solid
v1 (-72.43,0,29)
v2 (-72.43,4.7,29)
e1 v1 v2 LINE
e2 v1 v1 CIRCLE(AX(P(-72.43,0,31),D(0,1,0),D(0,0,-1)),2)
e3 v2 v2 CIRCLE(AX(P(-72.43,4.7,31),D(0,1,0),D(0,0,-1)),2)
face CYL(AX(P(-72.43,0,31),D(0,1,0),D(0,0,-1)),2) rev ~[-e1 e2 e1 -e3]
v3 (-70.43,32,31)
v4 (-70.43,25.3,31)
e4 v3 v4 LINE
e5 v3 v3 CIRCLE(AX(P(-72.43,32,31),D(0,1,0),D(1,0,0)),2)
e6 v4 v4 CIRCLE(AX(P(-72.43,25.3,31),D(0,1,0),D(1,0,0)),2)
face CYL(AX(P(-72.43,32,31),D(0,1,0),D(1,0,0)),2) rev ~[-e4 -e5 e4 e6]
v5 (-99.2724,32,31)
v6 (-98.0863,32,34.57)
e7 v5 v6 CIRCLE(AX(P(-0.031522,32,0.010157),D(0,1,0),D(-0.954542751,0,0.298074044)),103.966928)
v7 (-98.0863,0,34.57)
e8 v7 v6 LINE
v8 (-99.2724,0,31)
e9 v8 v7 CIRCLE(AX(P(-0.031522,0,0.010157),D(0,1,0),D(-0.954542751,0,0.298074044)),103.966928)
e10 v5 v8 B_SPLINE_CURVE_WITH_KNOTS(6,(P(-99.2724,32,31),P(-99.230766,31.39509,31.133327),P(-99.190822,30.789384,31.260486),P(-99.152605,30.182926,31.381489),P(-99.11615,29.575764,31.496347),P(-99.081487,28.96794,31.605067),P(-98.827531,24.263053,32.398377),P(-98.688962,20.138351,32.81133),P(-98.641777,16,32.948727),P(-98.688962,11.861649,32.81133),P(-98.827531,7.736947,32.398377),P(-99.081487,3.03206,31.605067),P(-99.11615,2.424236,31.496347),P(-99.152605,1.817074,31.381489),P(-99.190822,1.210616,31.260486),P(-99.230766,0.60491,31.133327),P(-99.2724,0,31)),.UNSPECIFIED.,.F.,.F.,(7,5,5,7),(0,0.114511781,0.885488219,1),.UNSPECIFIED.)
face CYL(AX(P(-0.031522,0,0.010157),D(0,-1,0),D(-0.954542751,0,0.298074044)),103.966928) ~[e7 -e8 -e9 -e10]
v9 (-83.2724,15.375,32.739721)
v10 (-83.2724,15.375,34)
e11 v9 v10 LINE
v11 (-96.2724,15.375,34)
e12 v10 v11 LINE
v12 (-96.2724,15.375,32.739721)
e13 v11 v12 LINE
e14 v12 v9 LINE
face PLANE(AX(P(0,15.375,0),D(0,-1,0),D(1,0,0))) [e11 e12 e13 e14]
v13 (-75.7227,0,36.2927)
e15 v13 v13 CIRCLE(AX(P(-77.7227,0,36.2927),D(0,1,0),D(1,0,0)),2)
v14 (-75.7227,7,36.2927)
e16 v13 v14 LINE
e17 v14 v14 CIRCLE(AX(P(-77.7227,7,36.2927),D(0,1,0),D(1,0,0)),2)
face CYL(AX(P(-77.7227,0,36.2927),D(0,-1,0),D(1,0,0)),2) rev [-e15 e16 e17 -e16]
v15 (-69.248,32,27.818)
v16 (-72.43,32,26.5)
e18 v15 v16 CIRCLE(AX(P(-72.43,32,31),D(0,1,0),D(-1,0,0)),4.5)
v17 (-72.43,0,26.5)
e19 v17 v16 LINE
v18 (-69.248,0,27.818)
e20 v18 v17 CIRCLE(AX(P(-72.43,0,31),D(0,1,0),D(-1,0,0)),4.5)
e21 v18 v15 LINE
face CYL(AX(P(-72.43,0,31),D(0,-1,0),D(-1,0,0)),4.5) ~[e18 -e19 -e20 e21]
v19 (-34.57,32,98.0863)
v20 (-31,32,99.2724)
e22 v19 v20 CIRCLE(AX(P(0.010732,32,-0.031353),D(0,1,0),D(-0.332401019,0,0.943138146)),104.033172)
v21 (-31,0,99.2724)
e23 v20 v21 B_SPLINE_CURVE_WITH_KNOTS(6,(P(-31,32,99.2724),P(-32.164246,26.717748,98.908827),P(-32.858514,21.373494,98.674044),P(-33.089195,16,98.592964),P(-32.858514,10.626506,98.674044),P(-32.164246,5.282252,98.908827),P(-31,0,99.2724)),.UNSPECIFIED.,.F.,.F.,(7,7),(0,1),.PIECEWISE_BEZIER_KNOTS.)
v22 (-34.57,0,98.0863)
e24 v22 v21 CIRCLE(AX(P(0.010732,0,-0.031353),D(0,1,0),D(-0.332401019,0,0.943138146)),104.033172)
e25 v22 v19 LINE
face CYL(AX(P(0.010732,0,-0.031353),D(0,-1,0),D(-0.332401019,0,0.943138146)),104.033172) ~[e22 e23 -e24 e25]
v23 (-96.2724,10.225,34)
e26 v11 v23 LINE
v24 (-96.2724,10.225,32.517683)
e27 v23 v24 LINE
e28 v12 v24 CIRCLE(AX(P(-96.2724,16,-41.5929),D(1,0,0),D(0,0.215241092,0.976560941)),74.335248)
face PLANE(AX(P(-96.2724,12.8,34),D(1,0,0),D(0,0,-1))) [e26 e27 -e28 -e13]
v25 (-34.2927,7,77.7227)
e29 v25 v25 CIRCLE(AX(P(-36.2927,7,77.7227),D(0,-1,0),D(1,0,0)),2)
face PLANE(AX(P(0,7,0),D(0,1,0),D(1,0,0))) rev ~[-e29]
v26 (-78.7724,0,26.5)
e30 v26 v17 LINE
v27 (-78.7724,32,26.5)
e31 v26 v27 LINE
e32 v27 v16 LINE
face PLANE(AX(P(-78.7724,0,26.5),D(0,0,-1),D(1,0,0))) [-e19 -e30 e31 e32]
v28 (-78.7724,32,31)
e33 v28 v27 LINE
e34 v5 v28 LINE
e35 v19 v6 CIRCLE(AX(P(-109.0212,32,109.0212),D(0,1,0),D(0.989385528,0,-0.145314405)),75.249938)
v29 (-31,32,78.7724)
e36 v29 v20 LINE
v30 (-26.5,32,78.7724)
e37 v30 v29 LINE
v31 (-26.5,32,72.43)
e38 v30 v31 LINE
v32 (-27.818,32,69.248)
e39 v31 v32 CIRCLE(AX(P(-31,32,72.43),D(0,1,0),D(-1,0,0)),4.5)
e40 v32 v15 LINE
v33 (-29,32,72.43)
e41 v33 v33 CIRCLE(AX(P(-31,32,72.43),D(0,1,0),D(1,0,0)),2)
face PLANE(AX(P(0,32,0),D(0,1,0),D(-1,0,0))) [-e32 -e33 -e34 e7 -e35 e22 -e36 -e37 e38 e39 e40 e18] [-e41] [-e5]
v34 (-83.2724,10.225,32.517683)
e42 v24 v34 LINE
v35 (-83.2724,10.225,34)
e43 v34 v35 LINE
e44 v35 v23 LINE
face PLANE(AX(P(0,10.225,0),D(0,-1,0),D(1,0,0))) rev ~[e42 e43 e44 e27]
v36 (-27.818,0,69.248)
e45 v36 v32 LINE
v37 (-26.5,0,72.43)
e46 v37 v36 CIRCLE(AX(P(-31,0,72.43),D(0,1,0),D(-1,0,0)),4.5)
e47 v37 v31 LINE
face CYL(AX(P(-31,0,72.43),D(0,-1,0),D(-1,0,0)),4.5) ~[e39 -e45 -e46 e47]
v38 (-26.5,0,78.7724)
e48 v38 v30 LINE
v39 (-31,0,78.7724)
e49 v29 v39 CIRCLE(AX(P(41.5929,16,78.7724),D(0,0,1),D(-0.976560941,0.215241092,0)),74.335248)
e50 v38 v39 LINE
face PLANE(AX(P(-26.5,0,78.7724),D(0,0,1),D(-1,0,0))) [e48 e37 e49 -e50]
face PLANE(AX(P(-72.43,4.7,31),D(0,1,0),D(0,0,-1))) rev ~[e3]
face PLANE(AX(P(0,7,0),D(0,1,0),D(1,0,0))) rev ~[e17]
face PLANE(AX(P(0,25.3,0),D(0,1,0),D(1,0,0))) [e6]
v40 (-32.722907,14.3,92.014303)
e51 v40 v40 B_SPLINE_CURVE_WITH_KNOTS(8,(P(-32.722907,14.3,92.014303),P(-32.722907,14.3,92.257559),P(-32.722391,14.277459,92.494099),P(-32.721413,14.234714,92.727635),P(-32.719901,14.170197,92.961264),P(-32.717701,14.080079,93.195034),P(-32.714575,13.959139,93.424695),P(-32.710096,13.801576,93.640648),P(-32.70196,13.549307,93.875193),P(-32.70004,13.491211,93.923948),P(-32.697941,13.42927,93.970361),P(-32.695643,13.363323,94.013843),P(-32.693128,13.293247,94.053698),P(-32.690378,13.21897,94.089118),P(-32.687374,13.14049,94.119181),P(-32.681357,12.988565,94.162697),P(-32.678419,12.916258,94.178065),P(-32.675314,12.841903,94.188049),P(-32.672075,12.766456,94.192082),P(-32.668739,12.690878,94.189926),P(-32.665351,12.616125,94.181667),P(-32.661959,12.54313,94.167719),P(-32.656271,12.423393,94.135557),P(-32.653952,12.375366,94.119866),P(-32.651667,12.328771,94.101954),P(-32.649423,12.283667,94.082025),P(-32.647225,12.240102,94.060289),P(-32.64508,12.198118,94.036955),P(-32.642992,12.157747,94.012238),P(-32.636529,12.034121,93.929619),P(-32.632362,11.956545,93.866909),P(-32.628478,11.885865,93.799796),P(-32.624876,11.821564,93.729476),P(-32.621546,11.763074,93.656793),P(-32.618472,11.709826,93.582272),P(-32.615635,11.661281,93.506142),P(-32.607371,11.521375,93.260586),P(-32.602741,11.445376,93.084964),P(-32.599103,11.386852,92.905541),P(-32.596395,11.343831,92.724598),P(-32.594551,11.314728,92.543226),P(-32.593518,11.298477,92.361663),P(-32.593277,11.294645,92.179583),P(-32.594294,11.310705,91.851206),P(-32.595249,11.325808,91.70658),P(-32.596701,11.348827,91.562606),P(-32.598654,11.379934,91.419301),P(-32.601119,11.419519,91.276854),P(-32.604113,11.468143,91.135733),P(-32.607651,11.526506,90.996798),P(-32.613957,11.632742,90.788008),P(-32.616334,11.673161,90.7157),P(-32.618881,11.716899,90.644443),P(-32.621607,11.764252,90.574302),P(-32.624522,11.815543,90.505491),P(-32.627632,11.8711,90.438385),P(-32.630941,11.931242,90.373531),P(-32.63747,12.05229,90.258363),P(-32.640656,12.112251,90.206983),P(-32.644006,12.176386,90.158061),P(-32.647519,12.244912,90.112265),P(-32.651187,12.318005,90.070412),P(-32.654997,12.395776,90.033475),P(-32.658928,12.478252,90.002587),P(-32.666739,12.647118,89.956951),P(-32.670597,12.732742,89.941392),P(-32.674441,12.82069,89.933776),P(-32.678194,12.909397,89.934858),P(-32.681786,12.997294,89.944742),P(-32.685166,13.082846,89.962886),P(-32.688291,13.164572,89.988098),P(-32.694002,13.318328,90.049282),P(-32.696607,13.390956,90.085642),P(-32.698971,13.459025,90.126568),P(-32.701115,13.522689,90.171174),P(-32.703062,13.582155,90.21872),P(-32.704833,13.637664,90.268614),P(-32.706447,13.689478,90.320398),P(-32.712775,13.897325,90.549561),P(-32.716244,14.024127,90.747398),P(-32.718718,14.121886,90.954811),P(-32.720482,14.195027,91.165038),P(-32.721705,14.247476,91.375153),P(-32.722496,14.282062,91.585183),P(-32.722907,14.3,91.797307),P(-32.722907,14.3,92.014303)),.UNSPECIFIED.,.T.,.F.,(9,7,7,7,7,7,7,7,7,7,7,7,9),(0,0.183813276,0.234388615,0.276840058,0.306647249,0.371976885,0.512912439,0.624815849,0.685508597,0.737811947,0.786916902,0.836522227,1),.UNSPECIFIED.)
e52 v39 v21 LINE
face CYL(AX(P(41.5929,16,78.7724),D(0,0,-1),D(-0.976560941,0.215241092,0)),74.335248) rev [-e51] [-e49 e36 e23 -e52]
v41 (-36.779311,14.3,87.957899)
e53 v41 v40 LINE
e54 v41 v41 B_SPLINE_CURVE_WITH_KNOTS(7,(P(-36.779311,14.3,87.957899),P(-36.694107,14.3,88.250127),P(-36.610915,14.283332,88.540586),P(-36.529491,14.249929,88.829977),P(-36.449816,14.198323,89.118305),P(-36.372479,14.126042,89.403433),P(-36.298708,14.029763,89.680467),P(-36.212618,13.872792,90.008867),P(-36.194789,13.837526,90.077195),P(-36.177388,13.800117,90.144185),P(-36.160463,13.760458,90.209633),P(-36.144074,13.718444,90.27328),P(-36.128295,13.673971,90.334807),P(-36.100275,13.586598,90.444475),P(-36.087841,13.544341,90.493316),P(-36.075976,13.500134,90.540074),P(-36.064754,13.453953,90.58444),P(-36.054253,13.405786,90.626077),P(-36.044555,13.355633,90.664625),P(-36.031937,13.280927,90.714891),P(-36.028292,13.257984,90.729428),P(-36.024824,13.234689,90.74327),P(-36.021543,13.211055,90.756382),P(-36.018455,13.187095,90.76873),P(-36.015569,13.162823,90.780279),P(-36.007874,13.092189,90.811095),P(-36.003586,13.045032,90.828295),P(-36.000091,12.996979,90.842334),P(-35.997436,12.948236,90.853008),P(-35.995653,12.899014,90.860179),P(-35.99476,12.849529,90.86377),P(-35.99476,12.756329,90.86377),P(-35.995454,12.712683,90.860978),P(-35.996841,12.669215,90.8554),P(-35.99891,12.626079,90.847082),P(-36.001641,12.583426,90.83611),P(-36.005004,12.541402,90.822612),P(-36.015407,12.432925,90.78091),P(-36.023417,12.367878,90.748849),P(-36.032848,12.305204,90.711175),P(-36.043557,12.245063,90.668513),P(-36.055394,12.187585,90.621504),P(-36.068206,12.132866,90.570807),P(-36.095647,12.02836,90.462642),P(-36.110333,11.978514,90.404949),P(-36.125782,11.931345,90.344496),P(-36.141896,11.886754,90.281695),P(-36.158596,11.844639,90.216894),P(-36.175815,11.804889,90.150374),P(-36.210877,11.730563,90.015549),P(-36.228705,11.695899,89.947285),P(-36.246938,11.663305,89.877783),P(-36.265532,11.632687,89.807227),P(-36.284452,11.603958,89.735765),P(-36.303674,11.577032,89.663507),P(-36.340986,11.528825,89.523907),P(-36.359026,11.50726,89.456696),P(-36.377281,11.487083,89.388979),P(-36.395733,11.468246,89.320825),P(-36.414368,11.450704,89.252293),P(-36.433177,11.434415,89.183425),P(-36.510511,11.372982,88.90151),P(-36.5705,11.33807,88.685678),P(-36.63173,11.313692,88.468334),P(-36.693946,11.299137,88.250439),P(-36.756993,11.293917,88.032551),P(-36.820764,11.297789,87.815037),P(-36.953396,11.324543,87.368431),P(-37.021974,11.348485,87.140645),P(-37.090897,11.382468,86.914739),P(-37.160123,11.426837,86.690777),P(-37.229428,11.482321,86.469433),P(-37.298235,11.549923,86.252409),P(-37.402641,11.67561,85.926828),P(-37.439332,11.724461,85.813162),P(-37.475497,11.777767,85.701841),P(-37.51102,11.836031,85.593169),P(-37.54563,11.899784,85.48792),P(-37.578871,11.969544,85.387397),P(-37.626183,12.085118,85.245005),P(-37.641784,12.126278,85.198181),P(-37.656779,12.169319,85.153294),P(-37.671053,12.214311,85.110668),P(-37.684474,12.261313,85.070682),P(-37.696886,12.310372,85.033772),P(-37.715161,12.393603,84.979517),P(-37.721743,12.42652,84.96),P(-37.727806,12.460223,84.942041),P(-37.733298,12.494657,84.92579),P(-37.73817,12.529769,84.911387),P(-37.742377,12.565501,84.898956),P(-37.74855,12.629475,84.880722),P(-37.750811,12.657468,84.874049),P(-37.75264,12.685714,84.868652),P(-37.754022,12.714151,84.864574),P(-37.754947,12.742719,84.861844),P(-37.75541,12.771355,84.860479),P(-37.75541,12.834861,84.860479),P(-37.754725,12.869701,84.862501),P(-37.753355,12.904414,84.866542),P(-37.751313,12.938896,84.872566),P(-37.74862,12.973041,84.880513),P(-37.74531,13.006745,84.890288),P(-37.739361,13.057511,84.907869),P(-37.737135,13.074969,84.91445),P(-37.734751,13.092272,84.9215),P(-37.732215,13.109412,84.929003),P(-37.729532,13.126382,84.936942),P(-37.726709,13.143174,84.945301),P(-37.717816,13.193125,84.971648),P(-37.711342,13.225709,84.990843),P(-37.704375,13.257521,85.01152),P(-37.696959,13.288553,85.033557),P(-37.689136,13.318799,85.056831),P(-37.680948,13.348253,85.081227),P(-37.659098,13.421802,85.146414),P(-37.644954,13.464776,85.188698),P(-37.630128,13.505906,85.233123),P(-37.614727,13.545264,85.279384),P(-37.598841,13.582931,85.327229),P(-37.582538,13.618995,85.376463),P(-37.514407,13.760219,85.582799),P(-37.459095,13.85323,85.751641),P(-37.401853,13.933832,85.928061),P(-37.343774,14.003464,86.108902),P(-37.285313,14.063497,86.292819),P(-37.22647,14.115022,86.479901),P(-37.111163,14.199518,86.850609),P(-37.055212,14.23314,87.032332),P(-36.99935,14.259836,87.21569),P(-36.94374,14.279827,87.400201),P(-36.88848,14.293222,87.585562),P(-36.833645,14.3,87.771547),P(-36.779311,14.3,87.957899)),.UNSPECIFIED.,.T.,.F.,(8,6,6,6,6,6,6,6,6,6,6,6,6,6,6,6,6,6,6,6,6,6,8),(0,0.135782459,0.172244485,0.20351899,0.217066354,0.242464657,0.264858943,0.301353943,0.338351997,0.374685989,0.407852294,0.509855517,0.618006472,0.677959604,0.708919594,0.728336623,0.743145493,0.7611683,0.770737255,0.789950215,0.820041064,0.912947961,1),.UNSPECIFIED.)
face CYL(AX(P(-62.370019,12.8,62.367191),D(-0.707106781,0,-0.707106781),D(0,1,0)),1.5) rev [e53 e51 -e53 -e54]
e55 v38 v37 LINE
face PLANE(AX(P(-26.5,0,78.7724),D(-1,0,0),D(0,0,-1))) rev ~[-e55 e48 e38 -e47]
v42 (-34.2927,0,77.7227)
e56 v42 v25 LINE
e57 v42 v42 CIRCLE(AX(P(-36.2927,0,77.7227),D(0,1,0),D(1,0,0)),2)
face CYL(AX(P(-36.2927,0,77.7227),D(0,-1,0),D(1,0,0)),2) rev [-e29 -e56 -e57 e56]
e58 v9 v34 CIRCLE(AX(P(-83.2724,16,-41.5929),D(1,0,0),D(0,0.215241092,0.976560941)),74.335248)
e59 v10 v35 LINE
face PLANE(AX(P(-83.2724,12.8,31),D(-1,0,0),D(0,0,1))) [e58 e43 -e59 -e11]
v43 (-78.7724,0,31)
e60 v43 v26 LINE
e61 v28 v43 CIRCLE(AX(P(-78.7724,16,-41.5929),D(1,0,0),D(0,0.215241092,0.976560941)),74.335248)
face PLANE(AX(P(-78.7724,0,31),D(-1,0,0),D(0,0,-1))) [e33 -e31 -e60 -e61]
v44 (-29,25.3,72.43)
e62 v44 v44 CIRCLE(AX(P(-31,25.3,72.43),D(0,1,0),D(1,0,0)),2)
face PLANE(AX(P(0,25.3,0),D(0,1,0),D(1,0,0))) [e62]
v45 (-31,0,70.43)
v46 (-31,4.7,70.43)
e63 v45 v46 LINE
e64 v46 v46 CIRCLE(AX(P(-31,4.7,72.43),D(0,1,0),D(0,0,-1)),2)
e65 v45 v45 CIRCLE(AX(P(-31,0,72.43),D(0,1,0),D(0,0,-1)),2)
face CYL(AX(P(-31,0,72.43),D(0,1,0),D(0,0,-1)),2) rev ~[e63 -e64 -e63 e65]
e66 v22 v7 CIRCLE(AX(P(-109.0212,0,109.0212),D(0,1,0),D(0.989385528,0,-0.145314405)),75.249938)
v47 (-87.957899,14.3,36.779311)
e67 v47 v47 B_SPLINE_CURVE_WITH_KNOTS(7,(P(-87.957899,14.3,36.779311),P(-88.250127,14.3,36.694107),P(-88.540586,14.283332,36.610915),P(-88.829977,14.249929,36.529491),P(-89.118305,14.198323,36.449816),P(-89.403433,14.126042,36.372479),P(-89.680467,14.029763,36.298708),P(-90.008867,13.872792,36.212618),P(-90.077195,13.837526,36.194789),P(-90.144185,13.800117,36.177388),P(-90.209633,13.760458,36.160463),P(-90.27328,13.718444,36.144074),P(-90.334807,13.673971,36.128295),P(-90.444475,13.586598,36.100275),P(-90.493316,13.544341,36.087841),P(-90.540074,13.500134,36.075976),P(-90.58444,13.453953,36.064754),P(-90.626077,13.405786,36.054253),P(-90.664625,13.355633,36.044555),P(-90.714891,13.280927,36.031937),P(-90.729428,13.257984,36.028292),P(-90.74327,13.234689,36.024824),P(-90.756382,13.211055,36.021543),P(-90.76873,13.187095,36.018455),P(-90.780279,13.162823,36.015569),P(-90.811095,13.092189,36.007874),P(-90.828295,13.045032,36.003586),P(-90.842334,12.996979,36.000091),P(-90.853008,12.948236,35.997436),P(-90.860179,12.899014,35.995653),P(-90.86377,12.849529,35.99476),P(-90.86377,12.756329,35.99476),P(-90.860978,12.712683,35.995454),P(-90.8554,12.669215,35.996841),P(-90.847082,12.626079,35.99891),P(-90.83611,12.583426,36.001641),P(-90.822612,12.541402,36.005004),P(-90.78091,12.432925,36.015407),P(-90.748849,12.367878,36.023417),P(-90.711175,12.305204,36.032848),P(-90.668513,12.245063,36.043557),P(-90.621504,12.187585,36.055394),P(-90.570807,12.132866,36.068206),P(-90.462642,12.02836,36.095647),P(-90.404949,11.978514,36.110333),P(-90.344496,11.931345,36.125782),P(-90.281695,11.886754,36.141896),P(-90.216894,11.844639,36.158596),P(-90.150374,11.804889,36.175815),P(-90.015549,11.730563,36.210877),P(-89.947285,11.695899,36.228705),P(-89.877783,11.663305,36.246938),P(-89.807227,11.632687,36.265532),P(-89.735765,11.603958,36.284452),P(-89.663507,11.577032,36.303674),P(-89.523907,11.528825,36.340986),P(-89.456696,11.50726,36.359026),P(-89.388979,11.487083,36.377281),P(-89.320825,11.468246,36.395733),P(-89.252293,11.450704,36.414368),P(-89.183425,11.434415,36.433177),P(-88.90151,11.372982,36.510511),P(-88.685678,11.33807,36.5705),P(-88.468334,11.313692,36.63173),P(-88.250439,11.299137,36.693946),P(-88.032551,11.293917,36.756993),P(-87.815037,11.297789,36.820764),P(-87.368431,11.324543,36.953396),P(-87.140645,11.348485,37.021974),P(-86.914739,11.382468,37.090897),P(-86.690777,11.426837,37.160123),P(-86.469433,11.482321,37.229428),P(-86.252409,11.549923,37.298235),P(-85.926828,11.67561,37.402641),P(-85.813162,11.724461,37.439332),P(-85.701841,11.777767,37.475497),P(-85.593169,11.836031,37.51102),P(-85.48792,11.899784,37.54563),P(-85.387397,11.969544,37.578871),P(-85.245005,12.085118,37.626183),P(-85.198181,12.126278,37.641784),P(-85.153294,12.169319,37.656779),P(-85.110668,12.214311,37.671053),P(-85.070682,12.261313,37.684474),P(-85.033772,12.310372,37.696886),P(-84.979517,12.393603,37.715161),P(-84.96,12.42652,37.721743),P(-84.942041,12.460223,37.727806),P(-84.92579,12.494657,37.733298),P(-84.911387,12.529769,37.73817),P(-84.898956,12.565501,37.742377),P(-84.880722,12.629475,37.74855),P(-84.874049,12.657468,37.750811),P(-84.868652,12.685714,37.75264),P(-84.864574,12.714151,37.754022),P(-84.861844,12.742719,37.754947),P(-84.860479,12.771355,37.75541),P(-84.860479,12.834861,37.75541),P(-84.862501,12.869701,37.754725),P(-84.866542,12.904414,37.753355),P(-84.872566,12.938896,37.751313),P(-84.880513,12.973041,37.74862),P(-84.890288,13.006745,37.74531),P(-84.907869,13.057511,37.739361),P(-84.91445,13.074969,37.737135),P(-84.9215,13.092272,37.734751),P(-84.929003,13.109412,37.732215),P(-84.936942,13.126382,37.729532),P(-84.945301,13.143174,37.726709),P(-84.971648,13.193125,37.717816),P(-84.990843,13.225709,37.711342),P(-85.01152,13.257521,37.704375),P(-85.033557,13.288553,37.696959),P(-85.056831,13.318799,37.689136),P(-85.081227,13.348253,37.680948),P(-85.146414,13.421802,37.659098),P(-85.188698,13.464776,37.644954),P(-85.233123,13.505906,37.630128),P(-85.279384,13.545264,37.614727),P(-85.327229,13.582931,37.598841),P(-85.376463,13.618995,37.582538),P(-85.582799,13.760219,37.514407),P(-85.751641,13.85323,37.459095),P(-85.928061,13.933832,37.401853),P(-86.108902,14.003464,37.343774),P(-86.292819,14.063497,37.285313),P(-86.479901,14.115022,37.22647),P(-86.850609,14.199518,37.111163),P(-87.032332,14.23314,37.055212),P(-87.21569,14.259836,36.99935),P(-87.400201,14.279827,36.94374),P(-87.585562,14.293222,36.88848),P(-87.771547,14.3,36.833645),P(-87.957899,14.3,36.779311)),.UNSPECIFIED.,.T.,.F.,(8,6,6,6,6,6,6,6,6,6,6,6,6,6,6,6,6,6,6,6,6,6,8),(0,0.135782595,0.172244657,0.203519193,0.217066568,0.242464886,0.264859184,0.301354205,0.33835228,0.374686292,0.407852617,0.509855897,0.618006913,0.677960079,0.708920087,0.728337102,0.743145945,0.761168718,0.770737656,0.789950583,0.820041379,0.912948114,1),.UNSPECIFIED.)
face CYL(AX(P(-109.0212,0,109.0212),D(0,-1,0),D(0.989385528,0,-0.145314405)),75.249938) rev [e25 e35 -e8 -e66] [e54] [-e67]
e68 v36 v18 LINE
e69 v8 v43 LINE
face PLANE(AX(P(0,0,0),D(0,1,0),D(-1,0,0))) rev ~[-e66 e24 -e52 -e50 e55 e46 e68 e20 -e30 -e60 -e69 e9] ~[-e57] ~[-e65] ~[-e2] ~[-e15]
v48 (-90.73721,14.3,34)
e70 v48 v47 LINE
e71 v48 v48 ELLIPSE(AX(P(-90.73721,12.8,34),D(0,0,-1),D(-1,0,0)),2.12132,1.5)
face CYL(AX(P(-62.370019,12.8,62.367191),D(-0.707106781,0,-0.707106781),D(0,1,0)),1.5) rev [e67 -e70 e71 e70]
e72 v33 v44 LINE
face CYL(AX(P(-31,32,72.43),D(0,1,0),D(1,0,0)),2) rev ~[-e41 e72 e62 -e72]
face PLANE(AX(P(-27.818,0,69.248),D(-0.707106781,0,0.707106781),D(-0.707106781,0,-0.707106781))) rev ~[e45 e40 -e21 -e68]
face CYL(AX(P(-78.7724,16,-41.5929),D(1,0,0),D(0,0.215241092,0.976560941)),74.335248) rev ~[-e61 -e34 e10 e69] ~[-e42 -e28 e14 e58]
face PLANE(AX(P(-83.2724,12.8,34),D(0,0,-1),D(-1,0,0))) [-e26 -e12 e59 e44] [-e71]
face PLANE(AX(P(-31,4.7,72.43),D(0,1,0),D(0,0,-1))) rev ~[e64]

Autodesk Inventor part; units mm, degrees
ref_plane "YZ Plane" through (0, 0, 0) normal (1, 0, 0) x (0, 1, 0)
ref_plane "XZ Plane" through (0, 0, 0) normal (0, 1, 0) x (-1, 0, 0)
ref_plane "XY Plane" through (0, 0, 0) normal (0, 0, 1) x (1, 0, 0)
sketch "Эскиз1" plane through (0, 0, 0) normal (0, 1, 0) x (-1, 0, 0)
  circle A0 centre (-44.87, 82.9015) radius 1.5
  line L0 (-31, 99.2724) -> (-31, 78.7724)
  line L1 (-31, 78.7724) -> (31, 78.7724)
  circle A1 centre (-42.22, 16) radius 1.5
  circle A2 centre (-16, 42.22) radius 1.5
  circle A3 centre (16, 42.22) radius 1.5
  circle A4 centre (31, 72.43) radius 1.5
  circle A5 centre (16, 72.43) radius 1.5
  circle A6 centre (-16, 72.43) radius 1.5
  arc A7 (-31, 99.2724) -> (-99.2724, 31) centre (0, 0) ccw
  circle A8 centre (-74.5664, 57.67) radius 1.5
  circle A9 centre (-82.9015, 44.87) radius 1.5
  circle A10 centre (-72.43, -16) radius 1.5
  circle A11 centre (-72.43, 16) radius 1.5
  line L2 (-78.7724, 31) -> (-78.7724, -31)
  line L3 (-99.2724, 31) -> (-78.7724, 31)
  line L4 (31, 78.7724) -> (31, 99.2724)
  arc A12 (34.57, 98.0863) -> (98.0863, 34.57) centre (109.0212, 109.0212) ccw
  circle A13 centre (72.43, 31) radius 1.5
  line L5 (99.2724, 31) -> (78.7724, 31)
  circle A14 centre (72.43, 16) radius 1.5
  arc A15 (34.57, 98.0863) -> (31, 99.2724) centre (0, 0) ccw
  arc A16 (99.2724, 31) -> (98.0863, 34.57) centre (0, 0) ccw
  arc A17 (98.0863, 34.57) -> (34.57, 98.0863) centre (0, 0) ccw
  circle A18 centre (42.22, 16) radius 1.5
  circle A19 centre (82.9015, -44.87) radius 1.5
  line L6 (78.7724, -31) -> (99.2724, -31)
  arc A20 (31, -99.2724) -> (99.2724, -31) centre (0, 0) ccw
  circle A21 centre (16, -72.43) radius 1.5
  line L7 (31, -78.7724) -> (31, -99.2724)
  circle A22 centre (44.87, -82.9015) radius 1.5
  circle A23 centre (57.67, -74.5664) radius 1.5
  circle A24 centre (-57.67, 74.5664) radius 1.5
  circle A25 centre (-42.22, -16) radius 1.5
  circle A26 centre (42.22, -16) radius 1.5
  circle A27 centre (-72.43, -31) radius 1.5
  line L8 (-73.5391, 73.5391) -> (73.5391, -73.5391) construction
  line L9 (78.7724, 31) -> (78.7724, -31)
  circle A28 centre (72.43, -16) radius 1.5
  circle A29 centre (-16, -42.22) radius 1.5
  circle A30 centre (16, -42.22) radius 1.5
  circle A31 centre (74.5664, -57.67) radius 1.5
  line L10 (-31, -78.7724) -> (31, -78.7724)
  circle A32 centre (-16, -72.43) radius 1.5
  circle A33 centre (-31, -72.43) radius 1.5
  line L11 (-31, -99.2724) -> (-31, -78.7724)
  arc A34 (-34.57, -98.0863) -> (-31, -99.2724) centre (0, 0) ccw
  line L12 (-78.7724, -31) -> (-99.2724, -31)
  arc A35 (-99.2724, -31) -> (-98.0863, -34.57) centre (0, 0) ccw
  arc A36 (-98.0863, -34.57) -> (-34.57, -98.0863) centre (0, 0) ccw
  arc A37 (-34.57, -98.0863) -> (-98.0863, -34.57) centre (-109.0212, -109.0212) ccw
sketch "Эскиз2" plane through (0, 0, 0) normal (0, 1, 0) x (-1, 0, 0)
  arc A0 (34.57, 98.0863) -> (98.0863, 34.57) centre (109.0212, 109.0212) ccw projected
  arc A1 (99.2724, 31) -> (98.0863, 34.57) centre (0, 0) ccw projected
  arc A2 (34.57, 98.0863) -> (31, 99.2724) centre (0, 0) ccw projected
  line L0 (31, 78.7724) -> (31, 99.2724) projected
  circle A3 centre (31, 72.43) radius 1.5 projected
  circle A4 centre (72.43, 31) radius 1.5 projected
  circle A5 centre (31, 72.43) radius 4.5
  circle A6 centre (72.43, 31) radius 4.5
  line L1 (27.818, 69.248) -> (69.248, 27.818)
  line L2 (26.5, 78.7724) -> (26.5, 72.43)
  line L3 (78.7724, 31) -> (78.7724, -31) projected
  line L4 (78.7724, 26.5) -> (72.43, 26.5)
  line L5 (99.2724, 31) -> (78.7724, 31) projected
  line L6 (26.5, 78.7724) -> (31, 78.7724)
  dimension "d0" = 9
  dimension "d1" = 9
extrude "Выдавливание1" add sketch "Эскиз2" along normal blind 32
ref_plane "РабПлоскость1" through (0, 25.3, 0) normal (0, 1, 0) x (1, 0, 0)
sketch "Эскиз3" plane through (0, 25.3, 0) normal (0, 1, 0) x (1, 0, 0)
  circle A0 centre (-72.43, -31) radius 1.5 projected
  circle A1 centre (-31, -72.43) radius 1.5 projected
  point P0 (0, 0)
extrude "Выдавливание2" add sketch "Эскиз3" against normal blind 20.6
sketch "Эскиз4" plane through (-31, 0, 78.7724) normal (0, 0, 1) x (1, 0, 0)
  line L0 (0, 1) -> (0, 32)
  line L1 (0, 32) -> (-3.57, 32) projected
  line L2 (0, 0) -> (0, 32) projected
  arc A0 (0, 32) -> (0, 0) centre (72.5929, 16) ccw
  point P0 (31, 0)
extrude "Выдавливание3" cut sketch "Эскиз4" along normal through all
ref_plane "РабПлоскость2" through (-48.533, 0, 48.533) normal (0.7071, 0, 0.7071) x (0, 1, 0)
mirror "Зеркальное отражение1" about plane through (-48.533, 0, 48.533) normal (0.7071, 0, 0.7071) of "Выдавливание3"
sketch "Эскиз6" plane through (0, 0, 0) normal (0, 1, 0) x (1, 0, 0)
  circle A0 centre (124.1994, 64.0459) radius 3
  circle A1 centre (-31, -72.43) radius 1.5 projected
  circle A2 centre (-72.43, -31) radius 1.5 projected
  line L0 (-72.43, -31) -> (-31, -72.43)
  line L1 (-31, -72.43) -> (-36.2927, -77.7227)
  circle A3 centre (-36.2927, -77.7227) radius 2
  line L2 (164.6688, 164.6688) -> (-154.6363, -154.6363) projected
  circle A4 centre (-77.7227, -36.2927) radius 2
  point P0 (0, 0)
  point P1 (129.0863, 44.2024)
  dimension "d12" = 6
  dimension "d13" = 7.485
  dimension "d14" = 4
extrude "Выдавливание5" cut sketch "Эскиз6" along normal blind 7 contours A3 | A4
ref_plane "РабПлоскость4" through (0, 12.8, 0) normal (0, -1, 0) x (1, 0, 0)
sketch "Эскиз9" plane through (0, 12.8, 0) normal (0, -1, 0) x (1, 0, 0)
  line L0 (-83.2724, 34) -> (-96.2724, 34)
  line L1 (-96.2724, 34) -> (-96.2724, 31)
  line L2 (-96.2724, 31) -> (-83.2724, 31)
  line L3 (-83.2724, 31) -> (-83.2724, 34)
  line L4 (-99.2724, 31) -> (-78.7724, 31)
  point P0 (0, 0)
  point P1 (0, 0)
  dimension "d23" = 3
  dimension "d24" = 13
  dimension "d43" = 3
extrude "Выдавливание6" cut sketch "Эскиз9" along normal mid plane 5.15
sketch "Эскиз10" plane through (-48.533, 0, 48.533) normal (0.7071, 0, 0.7071) x (0, 1, 0)
  line L0 (15.375, 14.288) -> (10.225, 14.288) projected
  line L1 (12.8, 14.288) -> (12.8, 27.3139)
  circle A0 centre (12.8, 19.5665) radius 1.5
  line L2 (0, 5.8027) -> (32, 5.8027) projected
  point P0 (0, -68.6361)
  dimension "d29" = 3
  dimension "d31" = 13.7638
extrude "Выдавливание7" cut sketch "Эскиз10" along normal mid plane 100
hole "Отверстие1" at (-72.43, 0, 31) at (-31, 0, 72.43) direction (0, 1, 0) diameter 4 depth 4.7
sketch "Эскиз11" plane through (0, 32, 0) normal (0, 1, 0) x (1, 0, 0)
  circle A0 centre (-72.43, -31) radius 1.5 projected
  circle A1 centre (-31, -72.43) radius 1.5 projected
  circle A2 centre (-72.43, -31) radius 2 projected
  circle A3 centre (-31, -72.43) radius 2 projected
  point P0 (0, 0)
extrude "Выдавливание8" cut sketch "Эскиз11" against normal up to surface (6.7 mm away) contours A0 | A1 | A2 | A3
equation "\"d1\" = d0"
properties part number "сфеср"
